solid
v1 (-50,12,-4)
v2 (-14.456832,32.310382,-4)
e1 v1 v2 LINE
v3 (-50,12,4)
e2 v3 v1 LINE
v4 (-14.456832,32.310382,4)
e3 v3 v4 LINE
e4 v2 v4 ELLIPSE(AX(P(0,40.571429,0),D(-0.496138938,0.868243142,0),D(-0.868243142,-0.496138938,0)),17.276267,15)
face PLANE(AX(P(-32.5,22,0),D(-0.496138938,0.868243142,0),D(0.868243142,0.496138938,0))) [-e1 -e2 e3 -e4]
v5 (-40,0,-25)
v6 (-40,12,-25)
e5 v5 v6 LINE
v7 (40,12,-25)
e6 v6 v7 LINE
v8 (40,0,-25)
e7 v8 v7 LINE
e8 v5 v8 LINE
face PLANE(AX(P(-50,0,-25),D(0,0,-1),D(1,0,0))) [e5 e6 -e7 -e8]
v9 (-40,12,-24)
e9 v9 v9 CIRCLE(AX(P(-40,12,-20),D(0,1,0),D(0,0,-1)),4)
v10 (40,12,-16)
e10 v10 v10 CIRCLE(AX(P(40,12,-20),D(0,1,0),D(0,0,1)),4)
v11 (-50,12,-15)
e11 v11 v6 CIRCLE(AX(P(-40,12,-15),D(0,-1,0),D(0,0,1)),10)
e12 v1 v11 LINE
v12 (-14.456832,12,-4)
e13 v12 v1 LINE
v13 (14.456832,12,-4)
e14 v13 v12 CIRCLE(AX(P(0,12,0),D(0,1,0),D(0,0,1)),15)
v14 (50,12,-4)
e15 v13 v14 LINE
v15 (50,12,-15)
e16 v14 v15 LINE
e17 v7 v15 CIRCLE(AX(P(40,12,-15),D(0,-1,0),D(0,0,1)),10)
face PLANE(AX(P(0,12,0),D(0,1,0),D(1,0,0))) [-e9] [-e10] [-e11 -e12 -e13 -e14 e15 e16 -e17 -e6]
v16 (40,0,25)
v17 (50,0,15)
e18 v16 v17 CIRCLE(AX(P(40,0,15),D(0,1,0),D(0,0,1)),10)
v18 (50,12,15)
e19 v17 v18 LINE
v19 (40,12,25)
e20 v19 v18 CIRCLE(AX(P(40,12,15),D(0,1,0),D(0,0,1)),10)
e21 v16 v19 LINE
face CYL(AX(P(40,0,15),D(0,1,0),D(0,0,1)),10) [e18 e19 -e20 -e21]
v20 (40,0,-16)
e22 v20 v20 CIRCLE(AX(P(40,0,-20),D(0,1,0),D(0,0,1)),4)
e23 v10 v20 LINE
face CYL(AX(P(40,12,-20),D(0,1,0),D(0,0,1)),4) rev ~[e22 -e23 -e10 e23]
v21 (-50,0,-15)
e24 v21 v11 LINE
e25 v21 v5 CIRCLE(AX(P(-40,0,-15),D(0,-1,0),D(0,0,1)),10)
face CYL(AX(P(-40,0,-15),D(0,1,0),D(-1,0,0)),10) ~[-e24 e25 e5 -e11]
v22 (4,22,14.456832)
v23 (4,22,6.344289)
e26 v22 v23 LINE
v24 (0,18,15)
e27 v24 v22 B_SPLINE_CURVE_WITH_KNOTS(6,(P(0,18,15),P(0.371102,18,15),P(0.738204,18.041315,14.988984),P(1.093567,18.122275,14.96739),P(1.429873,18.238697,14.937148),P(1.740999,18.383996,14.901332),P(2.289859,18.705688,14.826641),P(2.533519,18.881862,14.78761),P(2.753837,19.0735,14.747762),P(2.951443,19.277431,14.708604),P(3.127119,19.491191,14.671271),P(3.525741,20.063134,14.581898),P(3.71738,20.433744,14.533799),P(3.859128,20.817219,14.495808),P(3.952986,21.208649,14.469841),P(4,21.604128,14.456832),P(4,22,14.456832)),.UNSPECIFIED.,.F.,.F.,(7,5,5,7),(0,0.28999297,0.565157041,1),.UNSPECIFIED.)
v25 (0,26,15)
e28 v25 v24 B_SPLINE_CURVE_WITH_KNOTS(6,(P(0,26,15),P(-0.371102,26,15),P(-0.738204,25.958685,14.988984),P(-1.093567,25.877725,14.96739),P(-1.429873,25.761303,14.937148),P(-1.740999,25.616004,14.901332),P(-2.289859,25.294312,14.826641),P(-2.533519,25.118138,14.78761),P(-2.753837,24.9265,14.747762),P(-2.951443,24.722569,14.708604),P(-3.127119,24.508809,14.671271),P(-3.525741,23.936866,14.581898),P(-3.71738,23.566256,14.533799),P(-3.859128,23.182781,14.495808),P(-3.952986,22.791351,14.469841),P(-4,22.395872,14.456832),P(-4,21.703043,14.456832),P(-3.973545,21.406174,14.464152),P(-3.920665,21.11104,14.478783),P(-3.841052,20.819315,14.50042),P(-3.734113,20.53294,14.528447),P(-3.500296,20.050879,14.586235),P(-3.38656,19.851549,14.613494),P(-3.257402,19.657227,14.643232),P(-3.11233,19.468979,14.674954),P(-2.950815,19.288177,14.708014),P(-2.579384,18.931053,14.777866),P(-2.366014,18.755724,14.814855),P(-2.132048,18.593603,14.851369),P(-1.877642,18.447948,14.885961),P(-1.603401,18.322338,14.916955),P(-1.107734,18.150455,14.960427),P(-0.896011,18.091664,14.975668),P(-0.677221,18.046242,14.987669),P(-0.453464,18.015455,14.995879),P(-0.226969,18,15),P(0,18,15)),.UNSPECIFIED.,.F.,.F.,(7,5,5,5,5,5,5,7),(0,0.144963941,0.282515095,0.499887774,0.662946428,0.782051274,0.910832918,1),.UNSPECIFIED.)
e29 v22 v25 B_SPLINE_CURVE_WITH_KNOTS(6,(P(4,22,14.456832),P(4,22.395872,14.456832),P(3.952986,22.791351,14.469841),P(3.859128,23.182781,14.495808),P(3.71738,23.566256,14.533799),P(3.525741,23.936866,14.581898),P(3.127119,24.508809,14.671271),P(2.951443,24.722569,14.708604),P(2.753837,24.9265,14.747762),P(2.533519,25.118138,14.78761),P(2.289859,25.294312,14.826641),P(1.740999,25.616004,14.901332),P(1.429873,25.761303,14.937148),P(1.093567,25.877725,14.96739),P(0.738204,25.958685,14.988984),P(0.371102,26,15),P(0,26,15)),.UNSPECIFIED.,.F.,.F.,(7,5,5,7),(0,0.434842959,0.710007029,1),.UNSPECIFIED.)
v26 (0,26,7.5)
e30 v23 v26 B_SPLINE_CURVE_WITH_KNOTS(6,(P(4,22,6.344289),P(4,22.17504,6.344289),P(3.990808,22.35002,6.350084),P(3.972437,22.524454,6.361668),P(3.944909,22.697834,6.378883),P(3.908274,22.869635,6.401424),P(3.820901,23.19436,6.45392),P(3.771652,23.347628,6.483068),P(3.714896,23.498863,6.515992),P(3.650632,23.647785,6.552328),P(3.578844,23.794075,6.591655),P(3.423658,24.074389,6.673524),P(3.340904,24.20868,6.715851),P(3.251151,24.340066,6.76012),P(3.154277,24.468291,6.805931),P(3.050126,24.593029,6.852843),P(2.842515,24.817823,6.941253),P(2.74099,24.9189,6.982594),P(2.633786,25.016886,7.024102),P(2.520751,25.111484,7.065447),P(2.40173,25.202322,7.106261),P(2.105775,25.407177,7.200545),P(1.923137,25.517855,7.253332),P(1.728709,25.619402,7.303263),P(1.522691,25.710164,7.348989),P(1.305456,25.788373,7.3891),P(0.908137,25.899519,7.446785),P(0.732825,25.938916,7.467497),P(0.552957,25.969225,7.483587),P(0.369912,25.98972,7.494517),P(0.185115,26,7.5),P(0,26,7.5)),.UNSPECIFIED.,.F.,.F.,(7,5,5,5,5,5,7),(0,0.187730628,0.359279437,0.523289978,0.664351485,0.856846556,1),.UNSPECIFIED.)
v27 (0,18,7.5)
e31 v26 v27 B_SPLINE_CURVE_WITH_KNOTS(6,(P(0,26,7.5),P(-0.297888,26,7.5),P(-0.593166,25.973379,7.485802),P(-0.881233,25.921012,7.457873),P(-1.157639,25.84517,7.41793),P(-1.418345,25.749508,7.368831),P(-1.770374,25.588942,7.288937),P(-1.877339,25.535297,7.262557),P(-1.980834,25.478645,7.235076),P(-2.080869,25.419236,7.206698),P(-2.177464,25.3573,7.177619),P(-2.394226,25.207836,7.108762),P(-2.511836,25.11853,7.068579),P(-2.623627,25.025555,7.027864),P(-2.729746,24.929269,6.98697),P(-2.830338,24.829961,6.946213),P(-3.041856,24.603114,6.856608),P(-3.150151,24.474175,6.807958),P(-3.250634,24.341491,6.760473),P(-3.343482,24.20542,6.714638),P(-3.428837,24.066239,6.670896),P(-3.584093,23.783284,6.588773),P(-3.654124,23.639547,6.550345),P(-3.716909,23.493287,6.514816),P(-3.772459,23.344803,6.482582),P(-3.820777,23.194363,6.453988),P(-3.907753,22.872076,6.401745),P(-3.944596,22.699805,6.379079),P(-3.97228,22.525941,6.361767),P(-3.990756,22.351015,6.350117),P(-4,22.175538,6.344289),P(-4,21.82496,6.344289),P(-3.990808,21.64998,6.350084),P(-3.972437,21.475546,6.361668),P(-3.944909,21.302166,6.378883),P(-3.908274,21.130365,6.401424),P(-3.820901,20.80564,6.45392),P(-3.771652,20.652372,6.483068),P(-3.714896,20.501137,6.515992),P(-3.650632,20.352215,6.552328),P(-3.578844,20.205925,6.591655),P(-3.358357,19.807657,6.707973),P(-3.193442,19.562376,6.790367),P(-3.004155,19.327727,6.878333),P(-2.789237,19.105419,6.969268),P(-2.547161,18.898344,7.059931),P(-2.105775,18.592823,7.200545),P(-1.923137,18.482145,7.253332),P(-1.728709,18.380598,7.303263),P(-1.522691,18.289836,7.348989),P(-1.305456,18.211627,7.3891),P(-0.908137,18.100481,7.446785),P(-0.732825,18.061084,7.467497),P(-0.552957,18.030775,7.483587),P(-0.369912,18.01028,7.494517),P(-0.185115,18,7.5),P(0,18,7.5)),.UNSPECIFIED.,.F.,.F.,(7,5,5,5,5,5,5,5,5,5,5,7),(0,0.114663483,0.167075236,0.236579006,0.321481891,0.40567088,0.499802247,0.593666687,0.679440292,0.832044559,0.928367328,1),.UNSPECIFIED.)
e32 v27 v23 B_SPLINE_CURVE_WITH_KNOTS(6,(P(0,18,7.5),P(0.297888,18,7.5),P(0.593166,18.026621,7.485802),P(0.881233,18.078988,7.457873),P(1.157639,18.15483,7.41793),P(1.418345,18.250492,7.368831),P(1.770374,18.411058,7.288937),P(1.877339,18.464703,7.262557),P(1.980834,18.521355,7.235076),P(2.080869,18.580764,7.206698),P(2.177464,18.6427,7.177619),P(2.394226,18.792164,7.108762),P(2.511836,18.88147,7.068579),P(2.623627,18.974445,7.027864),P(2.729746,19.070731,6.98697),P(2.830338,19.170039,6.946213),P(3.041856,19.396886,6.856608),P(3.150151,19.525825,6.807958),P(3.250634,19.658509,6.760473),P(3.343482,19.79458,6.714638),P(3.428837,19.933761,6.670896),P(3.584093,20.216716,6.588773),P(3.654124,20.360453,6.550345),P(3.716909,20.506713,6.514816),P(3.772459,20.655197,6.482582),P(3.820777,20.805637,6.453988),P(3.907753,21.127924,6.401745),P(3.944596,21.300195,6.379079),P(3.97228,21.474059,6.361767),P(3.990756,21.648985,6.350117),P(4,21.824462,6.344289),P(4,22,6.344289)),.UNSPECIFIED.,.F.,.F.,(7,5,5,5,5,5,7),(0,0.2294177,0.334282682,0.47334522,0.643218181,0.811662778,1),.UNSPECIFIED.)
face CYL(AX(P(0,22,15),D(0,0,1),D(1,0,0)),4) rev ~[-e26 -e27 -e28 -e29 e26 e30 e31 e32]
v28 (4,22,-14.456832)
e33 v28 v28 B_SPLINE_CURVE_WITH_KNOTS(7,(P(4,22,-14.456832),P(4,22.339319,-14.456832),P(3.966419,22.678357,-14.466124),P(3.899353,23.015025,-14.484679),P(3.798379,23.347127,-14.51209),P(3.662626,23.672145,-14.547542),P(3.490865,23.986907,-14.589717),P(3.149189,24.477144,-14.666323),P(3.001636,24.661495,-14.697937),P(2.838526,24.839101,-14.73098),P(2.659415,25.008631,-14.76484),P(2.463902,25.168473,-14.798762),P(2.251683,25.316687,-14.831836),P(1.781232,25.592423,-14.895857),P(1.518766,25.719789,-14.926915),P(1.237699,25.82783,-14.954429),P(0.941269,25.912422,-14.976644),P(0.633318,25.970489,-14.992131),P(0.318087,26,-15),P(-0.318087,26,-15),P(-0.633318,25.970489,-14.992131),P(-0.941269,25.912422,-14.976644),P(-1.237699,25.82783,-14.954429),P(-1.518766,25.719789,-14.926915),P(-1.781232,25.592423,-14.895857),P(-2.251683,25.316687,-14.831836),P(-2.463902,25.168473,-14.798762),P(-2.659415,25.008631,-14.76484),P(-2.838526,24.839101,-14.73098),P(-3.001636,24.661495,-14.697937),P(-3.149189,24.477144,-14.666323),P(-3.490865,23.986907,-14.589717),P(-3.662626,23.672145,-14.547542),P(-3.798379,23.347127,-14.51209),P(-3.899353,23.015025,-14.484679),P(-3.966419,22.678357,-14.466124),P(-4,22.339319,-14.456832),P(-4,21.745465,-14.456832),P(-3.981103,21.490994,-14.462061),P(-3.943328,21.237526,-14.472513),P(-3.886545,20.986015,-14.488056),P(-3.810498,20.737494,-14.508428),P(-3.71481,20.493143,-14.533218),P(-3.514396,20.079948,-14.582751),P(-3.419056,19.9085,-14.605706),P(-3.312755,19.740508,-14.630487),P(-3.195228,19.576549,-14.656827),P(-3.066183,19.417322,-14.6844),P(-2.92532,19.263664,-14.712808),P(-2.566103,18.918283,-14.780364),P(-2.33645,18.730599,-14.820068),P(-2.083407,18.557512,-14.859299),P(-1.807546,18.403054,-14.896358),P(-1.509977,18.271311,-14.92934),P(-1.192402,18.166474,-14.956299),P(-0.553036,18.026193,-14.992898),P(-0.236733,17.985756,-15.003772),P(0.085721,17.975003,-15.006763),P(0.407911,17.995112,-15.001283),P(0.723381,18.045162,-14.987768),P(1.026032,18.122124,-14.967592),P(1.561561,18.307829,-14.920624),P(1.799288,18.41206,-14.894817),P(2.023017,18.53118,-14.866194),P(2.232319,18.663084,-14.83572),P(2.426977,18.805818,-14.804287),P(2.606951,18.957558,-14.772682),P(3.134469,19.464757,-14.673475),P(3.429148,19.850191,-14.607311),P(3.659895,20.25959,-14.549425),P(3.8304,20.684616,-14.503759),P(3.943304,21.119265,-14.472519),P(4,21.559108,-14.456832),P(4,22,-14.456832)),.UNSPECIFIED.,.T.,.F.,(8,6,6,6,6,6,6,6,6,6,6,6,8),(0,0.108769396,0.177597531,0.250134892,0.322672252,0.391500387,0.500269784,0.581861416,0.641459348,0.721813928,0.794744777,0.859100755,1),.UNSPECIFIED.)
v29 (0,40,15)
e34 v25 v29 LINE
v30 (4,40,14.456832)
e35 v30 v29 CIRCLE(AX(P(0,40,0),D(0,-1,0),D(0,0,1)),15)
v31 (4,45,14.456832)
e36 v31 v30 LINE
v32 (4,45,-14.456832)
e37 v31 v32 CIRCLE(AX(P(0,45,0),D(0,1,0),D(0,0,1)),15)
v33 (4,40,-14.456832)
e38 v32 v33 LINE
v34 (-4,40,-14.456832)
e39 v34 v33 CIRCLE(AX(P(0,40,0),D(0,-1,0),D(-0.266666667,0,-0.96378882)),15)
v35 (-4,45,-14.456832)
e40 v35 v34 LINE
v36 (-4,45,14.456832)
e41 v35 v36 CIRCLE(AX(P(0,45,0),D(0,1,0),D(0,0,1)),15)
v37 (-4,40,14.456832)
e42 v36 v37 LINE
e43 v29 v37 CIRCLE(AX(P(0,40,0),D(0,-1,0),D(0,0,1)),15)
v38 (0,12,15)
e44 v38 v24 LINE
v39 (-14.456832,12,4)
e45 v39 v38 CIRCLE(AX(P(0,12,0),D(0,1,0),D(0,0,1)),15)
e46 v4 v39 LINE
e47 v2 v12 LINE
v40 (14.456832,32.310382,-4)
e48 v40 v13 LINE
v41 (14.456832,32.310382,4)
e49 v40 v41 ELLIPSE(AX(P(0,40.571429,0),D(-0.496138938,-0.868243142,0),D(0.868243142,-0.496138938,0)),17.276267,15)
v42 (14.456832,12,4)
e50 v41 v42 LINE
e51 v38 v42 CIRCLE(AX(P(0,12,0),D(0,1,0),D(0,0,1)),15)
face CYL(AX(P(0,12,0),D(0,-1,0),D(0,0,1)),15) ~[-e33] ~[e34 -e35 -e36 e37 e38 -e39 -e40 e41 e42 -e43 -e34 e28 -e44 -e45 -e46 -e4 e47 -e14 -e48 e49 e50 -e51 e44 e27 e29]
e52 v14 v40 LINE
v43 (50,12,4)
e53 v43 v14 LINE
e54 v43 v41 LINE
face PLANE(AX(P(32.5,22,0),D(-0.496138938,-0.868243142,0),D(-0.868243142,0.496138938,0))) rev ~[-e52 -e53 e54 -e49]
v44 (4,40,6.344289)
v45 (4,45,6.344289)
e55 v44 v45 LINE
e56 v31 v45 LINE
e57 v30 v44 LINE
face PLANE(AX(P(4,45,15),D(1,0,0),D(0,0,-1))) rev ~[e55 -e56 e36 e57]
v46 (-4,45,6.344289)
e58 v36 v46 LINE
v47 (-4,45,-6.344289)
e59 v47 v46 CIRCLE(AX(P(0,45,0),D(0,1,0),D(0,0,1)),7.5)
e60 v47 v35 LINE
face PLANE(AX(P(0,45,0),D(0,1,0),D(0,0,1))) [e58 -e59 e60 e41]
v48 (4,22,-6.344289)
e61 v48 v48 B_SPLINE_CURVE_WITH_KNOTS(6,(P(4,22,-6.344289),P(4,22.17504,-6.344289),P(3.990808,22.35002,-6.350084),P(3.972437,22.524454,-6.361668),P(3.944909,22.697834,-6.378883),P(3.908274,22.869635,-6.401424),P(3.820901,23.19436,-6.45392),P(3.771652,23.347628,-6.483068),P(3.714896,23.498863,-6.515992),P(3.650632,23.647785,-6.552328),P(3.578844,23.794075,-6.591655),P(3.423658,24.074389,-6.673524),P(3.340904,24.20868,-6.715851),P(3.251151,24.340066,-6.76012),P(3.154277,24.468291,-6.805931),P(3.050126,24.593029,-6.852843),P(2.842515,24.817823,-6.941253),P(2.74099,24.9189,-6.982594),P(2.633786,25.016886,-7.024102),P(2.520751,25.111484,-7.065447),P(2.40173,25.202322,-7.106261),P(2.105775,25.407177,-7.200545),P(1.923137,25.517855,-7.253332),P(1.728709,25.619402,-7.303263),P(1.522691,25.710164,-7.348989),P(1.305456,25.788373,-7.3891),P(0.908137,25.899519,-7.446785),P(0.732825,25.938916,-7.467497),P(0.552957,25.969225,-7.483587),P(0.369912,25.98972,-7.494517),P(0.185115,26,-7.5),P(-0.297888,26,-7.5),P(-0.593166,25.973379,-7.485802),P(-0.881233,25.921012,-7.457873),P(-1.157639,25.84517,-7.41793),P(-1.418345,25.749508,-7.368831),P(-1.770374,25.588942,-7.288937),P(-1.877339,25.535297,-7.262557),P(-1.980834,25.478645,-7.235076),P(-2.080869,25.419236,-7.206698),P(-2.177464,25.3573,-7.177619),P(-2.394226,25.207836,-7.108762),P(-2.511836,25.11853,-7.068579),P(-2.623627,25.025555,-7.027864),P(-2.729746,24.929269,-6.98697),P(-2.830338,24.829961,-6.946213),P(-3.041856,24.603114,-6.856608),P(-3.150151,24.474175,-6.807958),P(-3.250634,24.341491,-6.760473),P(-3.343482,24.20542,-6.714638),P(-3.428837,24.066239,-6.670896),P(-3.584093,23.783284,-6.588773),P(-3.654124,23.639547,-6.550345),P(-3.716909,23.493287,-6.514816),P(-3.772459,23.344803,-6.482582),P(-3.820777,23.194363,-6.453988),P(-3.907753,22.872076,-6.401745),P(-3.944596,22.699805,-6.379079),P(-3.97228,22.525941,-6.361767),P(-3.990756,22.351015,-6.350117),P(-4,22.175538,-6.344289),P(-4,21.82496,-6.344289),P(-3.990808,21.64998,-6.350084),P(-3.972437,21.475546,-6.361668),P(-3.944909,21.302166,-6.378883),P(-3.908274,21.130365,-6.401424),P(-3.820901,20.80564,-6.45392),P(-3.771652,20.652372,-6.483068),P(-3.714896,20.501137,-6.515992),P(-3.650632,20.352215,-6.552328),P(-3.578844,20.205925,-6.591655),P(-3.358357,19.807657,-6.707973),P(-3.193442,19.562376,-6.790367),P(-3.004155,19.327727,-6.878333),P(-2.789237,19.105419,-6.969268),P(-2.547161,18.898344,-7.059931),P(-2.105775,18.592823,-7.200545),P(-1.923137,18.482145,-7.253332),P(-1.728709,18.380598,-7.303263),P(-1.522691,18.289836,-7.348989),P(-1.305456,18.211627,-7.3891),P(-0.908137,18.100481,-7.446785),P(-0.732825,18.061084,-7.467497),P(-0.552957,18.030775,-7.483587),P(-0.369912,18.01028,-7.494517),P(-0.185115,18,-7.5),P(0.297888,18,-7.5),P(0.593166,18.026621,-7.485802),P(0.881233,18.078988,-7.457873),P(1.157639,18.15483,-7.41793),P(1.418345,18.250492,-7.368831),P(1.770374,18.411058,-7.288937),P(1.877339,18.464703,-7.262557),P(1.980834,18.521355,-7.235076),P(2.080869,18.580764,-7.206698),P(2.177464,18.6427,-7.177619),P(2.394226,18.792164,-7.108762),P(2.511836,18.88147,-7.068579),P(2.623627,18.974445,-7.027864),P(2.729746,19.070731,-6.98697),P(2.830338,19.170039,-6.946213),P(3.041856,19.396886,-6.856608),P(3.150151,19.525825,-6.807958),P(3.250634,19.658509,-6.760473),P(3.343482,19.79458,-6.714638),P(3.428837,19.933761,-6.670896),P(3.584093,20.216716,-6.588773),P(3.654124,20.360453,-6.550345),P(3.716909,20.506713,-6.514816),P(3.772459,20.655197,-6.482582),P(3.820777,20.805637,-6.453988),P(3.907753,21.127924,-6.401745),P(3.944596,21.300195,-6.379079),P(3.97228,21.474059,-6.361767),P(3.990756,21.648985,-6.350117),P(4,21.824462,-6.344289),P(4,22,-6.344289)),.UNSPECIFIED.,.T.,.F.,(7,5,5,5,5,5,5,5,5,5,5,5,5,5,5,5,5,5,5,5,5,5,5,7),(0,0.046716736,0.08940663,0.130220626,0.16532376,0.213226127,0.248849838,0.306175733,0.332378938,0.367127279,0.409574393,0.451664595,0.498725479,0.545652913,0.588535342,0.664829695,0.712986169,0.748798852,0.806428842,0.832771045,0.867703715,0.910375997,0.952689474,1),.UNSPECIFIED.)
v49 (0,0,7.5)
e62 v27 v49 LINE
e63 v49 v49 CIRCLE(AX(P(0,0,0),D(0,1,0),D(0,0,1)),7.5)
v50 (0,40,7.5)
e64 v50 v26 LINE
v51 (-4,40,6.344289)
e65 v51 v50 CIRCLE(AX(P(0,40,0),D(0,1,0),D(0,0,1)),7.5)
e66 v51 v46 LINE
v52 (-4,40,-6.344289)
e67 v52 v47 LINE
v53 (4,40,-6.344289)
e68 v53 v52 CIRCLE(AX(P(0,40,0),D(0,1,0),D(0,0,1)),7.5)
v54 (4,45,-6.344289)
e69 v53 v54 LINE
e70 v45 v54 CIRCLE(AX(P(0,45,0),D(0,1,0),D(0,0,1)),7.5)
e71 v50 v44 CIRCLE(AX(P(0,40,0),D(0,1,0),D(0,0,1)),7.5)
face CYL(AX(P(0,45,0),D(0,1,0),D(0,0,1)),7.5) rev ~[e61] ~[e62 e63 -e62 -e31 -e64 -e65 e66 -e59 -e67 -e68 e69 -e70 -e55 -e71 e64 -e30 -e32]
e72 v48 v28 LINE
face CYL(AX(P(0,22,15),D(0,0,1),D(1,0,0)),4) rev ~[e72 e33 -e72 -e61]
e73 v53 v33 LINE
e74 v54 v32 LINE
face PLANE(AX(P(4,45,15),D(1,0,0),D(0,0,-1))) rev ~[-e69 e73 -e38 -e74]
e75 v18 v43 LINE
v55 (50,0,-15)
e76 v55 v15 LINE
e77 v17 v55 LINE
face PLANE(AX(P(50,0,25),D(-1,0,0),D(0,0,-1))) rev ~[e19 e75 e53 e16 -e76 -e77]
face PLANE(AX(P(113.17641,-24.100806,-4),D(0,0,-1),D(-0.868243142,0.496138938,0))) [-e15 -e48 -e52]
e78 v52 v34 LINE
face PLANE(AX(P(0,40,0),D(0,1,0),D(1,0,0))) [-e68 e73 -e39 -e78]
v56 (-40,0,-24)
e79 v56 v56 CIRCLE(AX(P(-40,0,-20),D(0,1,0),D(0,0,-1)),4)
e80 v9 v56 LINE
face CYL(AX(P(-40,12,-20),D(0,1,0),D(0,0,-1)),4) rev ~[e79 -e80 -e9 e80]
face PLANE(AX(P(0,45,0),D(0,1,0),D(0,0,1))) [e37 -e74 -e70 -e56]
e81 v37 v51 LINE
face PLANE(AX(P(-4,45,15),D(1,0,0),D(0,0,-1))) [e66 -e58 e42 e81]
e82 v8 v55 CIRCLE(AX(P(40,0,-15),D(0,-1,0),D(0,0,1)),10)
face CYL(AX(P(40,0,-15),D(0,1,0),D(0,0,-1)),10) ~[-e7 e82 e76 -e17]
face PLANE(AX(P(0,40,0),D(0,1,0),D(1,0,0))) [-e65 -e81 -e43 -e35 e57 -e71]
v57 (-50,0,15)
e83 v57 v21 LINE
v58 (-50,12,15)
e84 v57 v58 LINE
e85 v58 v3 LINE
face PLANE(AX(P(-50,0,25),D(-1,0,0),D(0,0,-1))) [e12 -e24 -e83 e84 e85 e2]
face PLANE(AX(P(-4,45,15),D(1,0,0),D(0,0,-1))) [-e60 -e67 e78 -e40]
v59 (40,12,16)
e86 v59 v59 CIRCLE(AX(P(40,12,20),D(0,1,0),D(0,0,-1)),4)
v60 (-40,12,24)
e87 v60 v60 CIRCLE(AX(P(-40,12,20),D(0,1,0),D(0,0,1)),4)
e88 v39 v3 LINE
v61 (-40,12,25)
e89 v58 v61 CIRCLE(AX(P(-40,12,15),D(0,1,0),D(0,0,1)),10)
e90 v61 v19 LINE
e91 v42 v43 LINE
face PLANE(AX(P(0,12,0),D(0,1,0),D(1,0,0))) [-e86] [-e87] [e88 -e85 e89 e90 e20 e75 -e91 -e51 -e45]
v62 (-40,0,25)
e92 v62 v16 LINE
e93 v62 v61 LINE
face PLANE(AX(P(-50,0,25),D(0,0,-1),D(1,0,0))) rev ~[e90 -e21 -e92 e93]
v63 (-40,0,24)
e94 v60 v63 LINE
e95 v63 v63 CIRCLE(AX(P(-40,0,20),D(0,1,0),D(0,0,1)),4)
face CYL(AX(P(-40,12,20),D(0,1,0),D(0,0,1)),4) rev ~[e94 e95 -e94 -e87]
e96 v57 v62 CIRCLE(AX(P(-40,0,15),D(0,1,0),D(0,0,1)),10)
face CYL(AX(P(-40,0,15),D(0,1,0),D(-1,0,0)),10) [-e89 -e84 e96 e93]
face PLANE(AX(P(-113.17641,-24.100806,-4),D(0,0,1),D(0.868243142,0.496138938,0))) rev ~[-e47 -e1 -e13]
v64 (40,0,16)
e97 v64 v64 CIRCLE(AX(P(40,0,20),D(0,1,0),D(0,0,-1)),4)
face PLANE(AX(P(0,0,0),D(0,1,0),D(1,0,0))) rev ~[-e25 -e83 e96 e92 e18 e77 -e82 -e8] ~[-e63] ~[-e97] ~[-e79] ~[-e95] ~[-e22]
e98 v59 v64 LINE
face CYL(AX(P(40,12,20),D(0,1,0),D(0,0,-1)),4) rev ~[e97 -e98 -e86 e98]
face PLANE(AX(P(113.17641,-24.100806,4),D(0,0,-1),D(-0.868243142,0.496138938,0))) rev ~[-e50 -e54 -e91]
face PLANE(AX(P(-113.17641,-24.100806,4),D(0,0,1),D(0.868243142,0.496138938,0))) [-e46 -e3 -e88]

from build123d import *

# Parameters (mm, degrees)
SKETCH_1_W          = 100
SKETCH_1_H          = 50
EXTRUDE_1_DEPTH     = 12
SKETCH_2_R          = 4
CUT_EXTRUDE_1_DEPTH = 58.175169436
SKETCH_3_R          = 15
EXTRUDE_2_DEPTH     = 33
SKETCH_4_R          = 7.5
CUT_EXTRUDE_2_DEPTH = 72.763500472
SKETCH_5_W          = 8
SKETCH_5_H          = 30
CUT_EXTRUDE_3_DEPTH = 5
FILLET_2_R          = 10
FILLET_3_R          = 10
RIB_30_REACH        = 73.764
SKETCH_11_WALL_W    = 185.838289686
SKETCH_11_WALL_H    = 8
RIB_31_REACH        = 73.764
SKETCH_15_WALL_W    = 185.838289686
SKETCH_15_WALL_H    = 8
SKETCH_16_R         = 4
CUT_EXTRUDE_4_DEPTH = 79.262379212


with BuildPart() as part:
    # 草图1 → 凸台-拉伸1 (new body)
    with BuildSketch(Plane(origin=(0, 0, 0), x_dir=(1, 0, 0), z_dir=(0, 1, 0))):
        Rectangle(SKETCH_1_W, SKETCH_1_H)
    extrude(amount=EXTRUDE_1_DEPTH)

    # 草图2 → 切除-拉伸1 (cut, through all)
    with BuildSketch(Plane(origin=(0, 12, 0), x_dir=(1, 0, 0), z_dir=(0, 1, 0))):
        with Locations((-40, -20)):
            Circle(SKETCH_2_R)
        with Locations((-40, 20)):
            Circle(SKETCH_2_R)
        with Locations((40, -20)):
            Circle(SKETCH_2_R)
        with Locations((40, 20)):
            Circle(SKETCH_2_R)
    extrude(amount=-CUT_EXTRUDE_1_DEPTH, mode=Mode.SUBTRACT)

    # 草图3 → 凸台-拉伸2 (add)
    with BuildSketch(Plane(origin=(0, 12, 0), x_dir=(1, 0, 0), z_dir=(0, 1, 0))):
        Circle(SKETCH_3_R)
    extrude(amount=EXTRUDE_2_DEPTH)

    # 草图4 → 切除-拉伸2 (cut, through all)
    with BuildSketch(Plane(origin=(0, 45, 0), x_dir=(1, 0, 0), z_dir=(0, 1, 0))):
        Circle(SKETCH_4_R)
    extrude(amount=-CUT_EXTRUDE_2_DEPTH, mode=Mode.SUBTRACT)

    # 草图5 → 切除-拉伸3 (cut)
    with BuildSketch(Plane(origin=(0, 45, 0), x_dir=(1, 0, 0), z_dir=(0, 1, 0))):
        Rectangle(SKETCH_5_W, SKETCH_5_H)
    extrude(amount=-CUT_EXTRUDE_3_DEPTH, mode=Mode.SUBTRACT)

    # 圆角2
    fillet_2_edges = [part.edges().sort_by_distance(p)[0] for p in [
        (-50, 6, -25),
        (-50, 6, 25),
    ]]
    fillet(fillet_2_edges, radius=FILLET_2_R)

    # 圆角3
    fillet_3_edges = [part.edges().sort_by_distance(p)[0] for p in [
        (50, 6, 25),
        (50, 6, -25),
    ]]
    fillet(fillet_3_edges, radius=FILLET_3_R)

    # 草图11 wall → 筋30 (add, up to next)
    with BuildSketch(Plane(origin=(-32.5, 22, 0), x_dir=(0.868243142124, 0.496138938357, 0), z_dir=(-0.496138938357, 0.868243142124, 0)), mode=Mode.PRIVATE) as rib_30_sk1:
        Rectangle(SKETCH_11_WALL_W, SKETCH_11_WALL_H)
    rib_30_tool1 = extrude(rib_30_sk1.sketch, amount=-RIB_30_REACH, mode=Mode.PRIVATE) - part.part
    add(rib_30_tool1.solids().sort_by_distance((-32.5, 22, 0))[0])

    # 草图15 wall → 筋31 (add, up to next)
    with BuildSketch(Plane(origin=(32.5, 22, 0), x_dir=(-0.868243142124, 0.496138938357, 0), z_dir=(-0.496138938357, -0.868243142124, 0)), mode=Mode.PRIVATE) as rib_31_sk1:
        Rectangle(SKETCH_15_WALL_W, SKETCH_15_WALL_H)
    rib_31_tool1 = extrude(rib_31_sk1.sketch, amount=RIB_31_REACH, mode=Mode.PRIVATE) - part.part
    add(rib_31_tool1.solids().sort_by_distance((32.5, 22, 0))[0])

    # 草图16 → 切除-拉伸4 (cut, through all)
    with BuildSketch(Plane.XY.offset(15)):
        with Locations((0, 22)):
            Circle(SKETCH_16_R)
    extrude(amount=-CUT_EXTRUDE_4_DEPTH, mode=Mode.SUBTRACT)


solid = part.part
